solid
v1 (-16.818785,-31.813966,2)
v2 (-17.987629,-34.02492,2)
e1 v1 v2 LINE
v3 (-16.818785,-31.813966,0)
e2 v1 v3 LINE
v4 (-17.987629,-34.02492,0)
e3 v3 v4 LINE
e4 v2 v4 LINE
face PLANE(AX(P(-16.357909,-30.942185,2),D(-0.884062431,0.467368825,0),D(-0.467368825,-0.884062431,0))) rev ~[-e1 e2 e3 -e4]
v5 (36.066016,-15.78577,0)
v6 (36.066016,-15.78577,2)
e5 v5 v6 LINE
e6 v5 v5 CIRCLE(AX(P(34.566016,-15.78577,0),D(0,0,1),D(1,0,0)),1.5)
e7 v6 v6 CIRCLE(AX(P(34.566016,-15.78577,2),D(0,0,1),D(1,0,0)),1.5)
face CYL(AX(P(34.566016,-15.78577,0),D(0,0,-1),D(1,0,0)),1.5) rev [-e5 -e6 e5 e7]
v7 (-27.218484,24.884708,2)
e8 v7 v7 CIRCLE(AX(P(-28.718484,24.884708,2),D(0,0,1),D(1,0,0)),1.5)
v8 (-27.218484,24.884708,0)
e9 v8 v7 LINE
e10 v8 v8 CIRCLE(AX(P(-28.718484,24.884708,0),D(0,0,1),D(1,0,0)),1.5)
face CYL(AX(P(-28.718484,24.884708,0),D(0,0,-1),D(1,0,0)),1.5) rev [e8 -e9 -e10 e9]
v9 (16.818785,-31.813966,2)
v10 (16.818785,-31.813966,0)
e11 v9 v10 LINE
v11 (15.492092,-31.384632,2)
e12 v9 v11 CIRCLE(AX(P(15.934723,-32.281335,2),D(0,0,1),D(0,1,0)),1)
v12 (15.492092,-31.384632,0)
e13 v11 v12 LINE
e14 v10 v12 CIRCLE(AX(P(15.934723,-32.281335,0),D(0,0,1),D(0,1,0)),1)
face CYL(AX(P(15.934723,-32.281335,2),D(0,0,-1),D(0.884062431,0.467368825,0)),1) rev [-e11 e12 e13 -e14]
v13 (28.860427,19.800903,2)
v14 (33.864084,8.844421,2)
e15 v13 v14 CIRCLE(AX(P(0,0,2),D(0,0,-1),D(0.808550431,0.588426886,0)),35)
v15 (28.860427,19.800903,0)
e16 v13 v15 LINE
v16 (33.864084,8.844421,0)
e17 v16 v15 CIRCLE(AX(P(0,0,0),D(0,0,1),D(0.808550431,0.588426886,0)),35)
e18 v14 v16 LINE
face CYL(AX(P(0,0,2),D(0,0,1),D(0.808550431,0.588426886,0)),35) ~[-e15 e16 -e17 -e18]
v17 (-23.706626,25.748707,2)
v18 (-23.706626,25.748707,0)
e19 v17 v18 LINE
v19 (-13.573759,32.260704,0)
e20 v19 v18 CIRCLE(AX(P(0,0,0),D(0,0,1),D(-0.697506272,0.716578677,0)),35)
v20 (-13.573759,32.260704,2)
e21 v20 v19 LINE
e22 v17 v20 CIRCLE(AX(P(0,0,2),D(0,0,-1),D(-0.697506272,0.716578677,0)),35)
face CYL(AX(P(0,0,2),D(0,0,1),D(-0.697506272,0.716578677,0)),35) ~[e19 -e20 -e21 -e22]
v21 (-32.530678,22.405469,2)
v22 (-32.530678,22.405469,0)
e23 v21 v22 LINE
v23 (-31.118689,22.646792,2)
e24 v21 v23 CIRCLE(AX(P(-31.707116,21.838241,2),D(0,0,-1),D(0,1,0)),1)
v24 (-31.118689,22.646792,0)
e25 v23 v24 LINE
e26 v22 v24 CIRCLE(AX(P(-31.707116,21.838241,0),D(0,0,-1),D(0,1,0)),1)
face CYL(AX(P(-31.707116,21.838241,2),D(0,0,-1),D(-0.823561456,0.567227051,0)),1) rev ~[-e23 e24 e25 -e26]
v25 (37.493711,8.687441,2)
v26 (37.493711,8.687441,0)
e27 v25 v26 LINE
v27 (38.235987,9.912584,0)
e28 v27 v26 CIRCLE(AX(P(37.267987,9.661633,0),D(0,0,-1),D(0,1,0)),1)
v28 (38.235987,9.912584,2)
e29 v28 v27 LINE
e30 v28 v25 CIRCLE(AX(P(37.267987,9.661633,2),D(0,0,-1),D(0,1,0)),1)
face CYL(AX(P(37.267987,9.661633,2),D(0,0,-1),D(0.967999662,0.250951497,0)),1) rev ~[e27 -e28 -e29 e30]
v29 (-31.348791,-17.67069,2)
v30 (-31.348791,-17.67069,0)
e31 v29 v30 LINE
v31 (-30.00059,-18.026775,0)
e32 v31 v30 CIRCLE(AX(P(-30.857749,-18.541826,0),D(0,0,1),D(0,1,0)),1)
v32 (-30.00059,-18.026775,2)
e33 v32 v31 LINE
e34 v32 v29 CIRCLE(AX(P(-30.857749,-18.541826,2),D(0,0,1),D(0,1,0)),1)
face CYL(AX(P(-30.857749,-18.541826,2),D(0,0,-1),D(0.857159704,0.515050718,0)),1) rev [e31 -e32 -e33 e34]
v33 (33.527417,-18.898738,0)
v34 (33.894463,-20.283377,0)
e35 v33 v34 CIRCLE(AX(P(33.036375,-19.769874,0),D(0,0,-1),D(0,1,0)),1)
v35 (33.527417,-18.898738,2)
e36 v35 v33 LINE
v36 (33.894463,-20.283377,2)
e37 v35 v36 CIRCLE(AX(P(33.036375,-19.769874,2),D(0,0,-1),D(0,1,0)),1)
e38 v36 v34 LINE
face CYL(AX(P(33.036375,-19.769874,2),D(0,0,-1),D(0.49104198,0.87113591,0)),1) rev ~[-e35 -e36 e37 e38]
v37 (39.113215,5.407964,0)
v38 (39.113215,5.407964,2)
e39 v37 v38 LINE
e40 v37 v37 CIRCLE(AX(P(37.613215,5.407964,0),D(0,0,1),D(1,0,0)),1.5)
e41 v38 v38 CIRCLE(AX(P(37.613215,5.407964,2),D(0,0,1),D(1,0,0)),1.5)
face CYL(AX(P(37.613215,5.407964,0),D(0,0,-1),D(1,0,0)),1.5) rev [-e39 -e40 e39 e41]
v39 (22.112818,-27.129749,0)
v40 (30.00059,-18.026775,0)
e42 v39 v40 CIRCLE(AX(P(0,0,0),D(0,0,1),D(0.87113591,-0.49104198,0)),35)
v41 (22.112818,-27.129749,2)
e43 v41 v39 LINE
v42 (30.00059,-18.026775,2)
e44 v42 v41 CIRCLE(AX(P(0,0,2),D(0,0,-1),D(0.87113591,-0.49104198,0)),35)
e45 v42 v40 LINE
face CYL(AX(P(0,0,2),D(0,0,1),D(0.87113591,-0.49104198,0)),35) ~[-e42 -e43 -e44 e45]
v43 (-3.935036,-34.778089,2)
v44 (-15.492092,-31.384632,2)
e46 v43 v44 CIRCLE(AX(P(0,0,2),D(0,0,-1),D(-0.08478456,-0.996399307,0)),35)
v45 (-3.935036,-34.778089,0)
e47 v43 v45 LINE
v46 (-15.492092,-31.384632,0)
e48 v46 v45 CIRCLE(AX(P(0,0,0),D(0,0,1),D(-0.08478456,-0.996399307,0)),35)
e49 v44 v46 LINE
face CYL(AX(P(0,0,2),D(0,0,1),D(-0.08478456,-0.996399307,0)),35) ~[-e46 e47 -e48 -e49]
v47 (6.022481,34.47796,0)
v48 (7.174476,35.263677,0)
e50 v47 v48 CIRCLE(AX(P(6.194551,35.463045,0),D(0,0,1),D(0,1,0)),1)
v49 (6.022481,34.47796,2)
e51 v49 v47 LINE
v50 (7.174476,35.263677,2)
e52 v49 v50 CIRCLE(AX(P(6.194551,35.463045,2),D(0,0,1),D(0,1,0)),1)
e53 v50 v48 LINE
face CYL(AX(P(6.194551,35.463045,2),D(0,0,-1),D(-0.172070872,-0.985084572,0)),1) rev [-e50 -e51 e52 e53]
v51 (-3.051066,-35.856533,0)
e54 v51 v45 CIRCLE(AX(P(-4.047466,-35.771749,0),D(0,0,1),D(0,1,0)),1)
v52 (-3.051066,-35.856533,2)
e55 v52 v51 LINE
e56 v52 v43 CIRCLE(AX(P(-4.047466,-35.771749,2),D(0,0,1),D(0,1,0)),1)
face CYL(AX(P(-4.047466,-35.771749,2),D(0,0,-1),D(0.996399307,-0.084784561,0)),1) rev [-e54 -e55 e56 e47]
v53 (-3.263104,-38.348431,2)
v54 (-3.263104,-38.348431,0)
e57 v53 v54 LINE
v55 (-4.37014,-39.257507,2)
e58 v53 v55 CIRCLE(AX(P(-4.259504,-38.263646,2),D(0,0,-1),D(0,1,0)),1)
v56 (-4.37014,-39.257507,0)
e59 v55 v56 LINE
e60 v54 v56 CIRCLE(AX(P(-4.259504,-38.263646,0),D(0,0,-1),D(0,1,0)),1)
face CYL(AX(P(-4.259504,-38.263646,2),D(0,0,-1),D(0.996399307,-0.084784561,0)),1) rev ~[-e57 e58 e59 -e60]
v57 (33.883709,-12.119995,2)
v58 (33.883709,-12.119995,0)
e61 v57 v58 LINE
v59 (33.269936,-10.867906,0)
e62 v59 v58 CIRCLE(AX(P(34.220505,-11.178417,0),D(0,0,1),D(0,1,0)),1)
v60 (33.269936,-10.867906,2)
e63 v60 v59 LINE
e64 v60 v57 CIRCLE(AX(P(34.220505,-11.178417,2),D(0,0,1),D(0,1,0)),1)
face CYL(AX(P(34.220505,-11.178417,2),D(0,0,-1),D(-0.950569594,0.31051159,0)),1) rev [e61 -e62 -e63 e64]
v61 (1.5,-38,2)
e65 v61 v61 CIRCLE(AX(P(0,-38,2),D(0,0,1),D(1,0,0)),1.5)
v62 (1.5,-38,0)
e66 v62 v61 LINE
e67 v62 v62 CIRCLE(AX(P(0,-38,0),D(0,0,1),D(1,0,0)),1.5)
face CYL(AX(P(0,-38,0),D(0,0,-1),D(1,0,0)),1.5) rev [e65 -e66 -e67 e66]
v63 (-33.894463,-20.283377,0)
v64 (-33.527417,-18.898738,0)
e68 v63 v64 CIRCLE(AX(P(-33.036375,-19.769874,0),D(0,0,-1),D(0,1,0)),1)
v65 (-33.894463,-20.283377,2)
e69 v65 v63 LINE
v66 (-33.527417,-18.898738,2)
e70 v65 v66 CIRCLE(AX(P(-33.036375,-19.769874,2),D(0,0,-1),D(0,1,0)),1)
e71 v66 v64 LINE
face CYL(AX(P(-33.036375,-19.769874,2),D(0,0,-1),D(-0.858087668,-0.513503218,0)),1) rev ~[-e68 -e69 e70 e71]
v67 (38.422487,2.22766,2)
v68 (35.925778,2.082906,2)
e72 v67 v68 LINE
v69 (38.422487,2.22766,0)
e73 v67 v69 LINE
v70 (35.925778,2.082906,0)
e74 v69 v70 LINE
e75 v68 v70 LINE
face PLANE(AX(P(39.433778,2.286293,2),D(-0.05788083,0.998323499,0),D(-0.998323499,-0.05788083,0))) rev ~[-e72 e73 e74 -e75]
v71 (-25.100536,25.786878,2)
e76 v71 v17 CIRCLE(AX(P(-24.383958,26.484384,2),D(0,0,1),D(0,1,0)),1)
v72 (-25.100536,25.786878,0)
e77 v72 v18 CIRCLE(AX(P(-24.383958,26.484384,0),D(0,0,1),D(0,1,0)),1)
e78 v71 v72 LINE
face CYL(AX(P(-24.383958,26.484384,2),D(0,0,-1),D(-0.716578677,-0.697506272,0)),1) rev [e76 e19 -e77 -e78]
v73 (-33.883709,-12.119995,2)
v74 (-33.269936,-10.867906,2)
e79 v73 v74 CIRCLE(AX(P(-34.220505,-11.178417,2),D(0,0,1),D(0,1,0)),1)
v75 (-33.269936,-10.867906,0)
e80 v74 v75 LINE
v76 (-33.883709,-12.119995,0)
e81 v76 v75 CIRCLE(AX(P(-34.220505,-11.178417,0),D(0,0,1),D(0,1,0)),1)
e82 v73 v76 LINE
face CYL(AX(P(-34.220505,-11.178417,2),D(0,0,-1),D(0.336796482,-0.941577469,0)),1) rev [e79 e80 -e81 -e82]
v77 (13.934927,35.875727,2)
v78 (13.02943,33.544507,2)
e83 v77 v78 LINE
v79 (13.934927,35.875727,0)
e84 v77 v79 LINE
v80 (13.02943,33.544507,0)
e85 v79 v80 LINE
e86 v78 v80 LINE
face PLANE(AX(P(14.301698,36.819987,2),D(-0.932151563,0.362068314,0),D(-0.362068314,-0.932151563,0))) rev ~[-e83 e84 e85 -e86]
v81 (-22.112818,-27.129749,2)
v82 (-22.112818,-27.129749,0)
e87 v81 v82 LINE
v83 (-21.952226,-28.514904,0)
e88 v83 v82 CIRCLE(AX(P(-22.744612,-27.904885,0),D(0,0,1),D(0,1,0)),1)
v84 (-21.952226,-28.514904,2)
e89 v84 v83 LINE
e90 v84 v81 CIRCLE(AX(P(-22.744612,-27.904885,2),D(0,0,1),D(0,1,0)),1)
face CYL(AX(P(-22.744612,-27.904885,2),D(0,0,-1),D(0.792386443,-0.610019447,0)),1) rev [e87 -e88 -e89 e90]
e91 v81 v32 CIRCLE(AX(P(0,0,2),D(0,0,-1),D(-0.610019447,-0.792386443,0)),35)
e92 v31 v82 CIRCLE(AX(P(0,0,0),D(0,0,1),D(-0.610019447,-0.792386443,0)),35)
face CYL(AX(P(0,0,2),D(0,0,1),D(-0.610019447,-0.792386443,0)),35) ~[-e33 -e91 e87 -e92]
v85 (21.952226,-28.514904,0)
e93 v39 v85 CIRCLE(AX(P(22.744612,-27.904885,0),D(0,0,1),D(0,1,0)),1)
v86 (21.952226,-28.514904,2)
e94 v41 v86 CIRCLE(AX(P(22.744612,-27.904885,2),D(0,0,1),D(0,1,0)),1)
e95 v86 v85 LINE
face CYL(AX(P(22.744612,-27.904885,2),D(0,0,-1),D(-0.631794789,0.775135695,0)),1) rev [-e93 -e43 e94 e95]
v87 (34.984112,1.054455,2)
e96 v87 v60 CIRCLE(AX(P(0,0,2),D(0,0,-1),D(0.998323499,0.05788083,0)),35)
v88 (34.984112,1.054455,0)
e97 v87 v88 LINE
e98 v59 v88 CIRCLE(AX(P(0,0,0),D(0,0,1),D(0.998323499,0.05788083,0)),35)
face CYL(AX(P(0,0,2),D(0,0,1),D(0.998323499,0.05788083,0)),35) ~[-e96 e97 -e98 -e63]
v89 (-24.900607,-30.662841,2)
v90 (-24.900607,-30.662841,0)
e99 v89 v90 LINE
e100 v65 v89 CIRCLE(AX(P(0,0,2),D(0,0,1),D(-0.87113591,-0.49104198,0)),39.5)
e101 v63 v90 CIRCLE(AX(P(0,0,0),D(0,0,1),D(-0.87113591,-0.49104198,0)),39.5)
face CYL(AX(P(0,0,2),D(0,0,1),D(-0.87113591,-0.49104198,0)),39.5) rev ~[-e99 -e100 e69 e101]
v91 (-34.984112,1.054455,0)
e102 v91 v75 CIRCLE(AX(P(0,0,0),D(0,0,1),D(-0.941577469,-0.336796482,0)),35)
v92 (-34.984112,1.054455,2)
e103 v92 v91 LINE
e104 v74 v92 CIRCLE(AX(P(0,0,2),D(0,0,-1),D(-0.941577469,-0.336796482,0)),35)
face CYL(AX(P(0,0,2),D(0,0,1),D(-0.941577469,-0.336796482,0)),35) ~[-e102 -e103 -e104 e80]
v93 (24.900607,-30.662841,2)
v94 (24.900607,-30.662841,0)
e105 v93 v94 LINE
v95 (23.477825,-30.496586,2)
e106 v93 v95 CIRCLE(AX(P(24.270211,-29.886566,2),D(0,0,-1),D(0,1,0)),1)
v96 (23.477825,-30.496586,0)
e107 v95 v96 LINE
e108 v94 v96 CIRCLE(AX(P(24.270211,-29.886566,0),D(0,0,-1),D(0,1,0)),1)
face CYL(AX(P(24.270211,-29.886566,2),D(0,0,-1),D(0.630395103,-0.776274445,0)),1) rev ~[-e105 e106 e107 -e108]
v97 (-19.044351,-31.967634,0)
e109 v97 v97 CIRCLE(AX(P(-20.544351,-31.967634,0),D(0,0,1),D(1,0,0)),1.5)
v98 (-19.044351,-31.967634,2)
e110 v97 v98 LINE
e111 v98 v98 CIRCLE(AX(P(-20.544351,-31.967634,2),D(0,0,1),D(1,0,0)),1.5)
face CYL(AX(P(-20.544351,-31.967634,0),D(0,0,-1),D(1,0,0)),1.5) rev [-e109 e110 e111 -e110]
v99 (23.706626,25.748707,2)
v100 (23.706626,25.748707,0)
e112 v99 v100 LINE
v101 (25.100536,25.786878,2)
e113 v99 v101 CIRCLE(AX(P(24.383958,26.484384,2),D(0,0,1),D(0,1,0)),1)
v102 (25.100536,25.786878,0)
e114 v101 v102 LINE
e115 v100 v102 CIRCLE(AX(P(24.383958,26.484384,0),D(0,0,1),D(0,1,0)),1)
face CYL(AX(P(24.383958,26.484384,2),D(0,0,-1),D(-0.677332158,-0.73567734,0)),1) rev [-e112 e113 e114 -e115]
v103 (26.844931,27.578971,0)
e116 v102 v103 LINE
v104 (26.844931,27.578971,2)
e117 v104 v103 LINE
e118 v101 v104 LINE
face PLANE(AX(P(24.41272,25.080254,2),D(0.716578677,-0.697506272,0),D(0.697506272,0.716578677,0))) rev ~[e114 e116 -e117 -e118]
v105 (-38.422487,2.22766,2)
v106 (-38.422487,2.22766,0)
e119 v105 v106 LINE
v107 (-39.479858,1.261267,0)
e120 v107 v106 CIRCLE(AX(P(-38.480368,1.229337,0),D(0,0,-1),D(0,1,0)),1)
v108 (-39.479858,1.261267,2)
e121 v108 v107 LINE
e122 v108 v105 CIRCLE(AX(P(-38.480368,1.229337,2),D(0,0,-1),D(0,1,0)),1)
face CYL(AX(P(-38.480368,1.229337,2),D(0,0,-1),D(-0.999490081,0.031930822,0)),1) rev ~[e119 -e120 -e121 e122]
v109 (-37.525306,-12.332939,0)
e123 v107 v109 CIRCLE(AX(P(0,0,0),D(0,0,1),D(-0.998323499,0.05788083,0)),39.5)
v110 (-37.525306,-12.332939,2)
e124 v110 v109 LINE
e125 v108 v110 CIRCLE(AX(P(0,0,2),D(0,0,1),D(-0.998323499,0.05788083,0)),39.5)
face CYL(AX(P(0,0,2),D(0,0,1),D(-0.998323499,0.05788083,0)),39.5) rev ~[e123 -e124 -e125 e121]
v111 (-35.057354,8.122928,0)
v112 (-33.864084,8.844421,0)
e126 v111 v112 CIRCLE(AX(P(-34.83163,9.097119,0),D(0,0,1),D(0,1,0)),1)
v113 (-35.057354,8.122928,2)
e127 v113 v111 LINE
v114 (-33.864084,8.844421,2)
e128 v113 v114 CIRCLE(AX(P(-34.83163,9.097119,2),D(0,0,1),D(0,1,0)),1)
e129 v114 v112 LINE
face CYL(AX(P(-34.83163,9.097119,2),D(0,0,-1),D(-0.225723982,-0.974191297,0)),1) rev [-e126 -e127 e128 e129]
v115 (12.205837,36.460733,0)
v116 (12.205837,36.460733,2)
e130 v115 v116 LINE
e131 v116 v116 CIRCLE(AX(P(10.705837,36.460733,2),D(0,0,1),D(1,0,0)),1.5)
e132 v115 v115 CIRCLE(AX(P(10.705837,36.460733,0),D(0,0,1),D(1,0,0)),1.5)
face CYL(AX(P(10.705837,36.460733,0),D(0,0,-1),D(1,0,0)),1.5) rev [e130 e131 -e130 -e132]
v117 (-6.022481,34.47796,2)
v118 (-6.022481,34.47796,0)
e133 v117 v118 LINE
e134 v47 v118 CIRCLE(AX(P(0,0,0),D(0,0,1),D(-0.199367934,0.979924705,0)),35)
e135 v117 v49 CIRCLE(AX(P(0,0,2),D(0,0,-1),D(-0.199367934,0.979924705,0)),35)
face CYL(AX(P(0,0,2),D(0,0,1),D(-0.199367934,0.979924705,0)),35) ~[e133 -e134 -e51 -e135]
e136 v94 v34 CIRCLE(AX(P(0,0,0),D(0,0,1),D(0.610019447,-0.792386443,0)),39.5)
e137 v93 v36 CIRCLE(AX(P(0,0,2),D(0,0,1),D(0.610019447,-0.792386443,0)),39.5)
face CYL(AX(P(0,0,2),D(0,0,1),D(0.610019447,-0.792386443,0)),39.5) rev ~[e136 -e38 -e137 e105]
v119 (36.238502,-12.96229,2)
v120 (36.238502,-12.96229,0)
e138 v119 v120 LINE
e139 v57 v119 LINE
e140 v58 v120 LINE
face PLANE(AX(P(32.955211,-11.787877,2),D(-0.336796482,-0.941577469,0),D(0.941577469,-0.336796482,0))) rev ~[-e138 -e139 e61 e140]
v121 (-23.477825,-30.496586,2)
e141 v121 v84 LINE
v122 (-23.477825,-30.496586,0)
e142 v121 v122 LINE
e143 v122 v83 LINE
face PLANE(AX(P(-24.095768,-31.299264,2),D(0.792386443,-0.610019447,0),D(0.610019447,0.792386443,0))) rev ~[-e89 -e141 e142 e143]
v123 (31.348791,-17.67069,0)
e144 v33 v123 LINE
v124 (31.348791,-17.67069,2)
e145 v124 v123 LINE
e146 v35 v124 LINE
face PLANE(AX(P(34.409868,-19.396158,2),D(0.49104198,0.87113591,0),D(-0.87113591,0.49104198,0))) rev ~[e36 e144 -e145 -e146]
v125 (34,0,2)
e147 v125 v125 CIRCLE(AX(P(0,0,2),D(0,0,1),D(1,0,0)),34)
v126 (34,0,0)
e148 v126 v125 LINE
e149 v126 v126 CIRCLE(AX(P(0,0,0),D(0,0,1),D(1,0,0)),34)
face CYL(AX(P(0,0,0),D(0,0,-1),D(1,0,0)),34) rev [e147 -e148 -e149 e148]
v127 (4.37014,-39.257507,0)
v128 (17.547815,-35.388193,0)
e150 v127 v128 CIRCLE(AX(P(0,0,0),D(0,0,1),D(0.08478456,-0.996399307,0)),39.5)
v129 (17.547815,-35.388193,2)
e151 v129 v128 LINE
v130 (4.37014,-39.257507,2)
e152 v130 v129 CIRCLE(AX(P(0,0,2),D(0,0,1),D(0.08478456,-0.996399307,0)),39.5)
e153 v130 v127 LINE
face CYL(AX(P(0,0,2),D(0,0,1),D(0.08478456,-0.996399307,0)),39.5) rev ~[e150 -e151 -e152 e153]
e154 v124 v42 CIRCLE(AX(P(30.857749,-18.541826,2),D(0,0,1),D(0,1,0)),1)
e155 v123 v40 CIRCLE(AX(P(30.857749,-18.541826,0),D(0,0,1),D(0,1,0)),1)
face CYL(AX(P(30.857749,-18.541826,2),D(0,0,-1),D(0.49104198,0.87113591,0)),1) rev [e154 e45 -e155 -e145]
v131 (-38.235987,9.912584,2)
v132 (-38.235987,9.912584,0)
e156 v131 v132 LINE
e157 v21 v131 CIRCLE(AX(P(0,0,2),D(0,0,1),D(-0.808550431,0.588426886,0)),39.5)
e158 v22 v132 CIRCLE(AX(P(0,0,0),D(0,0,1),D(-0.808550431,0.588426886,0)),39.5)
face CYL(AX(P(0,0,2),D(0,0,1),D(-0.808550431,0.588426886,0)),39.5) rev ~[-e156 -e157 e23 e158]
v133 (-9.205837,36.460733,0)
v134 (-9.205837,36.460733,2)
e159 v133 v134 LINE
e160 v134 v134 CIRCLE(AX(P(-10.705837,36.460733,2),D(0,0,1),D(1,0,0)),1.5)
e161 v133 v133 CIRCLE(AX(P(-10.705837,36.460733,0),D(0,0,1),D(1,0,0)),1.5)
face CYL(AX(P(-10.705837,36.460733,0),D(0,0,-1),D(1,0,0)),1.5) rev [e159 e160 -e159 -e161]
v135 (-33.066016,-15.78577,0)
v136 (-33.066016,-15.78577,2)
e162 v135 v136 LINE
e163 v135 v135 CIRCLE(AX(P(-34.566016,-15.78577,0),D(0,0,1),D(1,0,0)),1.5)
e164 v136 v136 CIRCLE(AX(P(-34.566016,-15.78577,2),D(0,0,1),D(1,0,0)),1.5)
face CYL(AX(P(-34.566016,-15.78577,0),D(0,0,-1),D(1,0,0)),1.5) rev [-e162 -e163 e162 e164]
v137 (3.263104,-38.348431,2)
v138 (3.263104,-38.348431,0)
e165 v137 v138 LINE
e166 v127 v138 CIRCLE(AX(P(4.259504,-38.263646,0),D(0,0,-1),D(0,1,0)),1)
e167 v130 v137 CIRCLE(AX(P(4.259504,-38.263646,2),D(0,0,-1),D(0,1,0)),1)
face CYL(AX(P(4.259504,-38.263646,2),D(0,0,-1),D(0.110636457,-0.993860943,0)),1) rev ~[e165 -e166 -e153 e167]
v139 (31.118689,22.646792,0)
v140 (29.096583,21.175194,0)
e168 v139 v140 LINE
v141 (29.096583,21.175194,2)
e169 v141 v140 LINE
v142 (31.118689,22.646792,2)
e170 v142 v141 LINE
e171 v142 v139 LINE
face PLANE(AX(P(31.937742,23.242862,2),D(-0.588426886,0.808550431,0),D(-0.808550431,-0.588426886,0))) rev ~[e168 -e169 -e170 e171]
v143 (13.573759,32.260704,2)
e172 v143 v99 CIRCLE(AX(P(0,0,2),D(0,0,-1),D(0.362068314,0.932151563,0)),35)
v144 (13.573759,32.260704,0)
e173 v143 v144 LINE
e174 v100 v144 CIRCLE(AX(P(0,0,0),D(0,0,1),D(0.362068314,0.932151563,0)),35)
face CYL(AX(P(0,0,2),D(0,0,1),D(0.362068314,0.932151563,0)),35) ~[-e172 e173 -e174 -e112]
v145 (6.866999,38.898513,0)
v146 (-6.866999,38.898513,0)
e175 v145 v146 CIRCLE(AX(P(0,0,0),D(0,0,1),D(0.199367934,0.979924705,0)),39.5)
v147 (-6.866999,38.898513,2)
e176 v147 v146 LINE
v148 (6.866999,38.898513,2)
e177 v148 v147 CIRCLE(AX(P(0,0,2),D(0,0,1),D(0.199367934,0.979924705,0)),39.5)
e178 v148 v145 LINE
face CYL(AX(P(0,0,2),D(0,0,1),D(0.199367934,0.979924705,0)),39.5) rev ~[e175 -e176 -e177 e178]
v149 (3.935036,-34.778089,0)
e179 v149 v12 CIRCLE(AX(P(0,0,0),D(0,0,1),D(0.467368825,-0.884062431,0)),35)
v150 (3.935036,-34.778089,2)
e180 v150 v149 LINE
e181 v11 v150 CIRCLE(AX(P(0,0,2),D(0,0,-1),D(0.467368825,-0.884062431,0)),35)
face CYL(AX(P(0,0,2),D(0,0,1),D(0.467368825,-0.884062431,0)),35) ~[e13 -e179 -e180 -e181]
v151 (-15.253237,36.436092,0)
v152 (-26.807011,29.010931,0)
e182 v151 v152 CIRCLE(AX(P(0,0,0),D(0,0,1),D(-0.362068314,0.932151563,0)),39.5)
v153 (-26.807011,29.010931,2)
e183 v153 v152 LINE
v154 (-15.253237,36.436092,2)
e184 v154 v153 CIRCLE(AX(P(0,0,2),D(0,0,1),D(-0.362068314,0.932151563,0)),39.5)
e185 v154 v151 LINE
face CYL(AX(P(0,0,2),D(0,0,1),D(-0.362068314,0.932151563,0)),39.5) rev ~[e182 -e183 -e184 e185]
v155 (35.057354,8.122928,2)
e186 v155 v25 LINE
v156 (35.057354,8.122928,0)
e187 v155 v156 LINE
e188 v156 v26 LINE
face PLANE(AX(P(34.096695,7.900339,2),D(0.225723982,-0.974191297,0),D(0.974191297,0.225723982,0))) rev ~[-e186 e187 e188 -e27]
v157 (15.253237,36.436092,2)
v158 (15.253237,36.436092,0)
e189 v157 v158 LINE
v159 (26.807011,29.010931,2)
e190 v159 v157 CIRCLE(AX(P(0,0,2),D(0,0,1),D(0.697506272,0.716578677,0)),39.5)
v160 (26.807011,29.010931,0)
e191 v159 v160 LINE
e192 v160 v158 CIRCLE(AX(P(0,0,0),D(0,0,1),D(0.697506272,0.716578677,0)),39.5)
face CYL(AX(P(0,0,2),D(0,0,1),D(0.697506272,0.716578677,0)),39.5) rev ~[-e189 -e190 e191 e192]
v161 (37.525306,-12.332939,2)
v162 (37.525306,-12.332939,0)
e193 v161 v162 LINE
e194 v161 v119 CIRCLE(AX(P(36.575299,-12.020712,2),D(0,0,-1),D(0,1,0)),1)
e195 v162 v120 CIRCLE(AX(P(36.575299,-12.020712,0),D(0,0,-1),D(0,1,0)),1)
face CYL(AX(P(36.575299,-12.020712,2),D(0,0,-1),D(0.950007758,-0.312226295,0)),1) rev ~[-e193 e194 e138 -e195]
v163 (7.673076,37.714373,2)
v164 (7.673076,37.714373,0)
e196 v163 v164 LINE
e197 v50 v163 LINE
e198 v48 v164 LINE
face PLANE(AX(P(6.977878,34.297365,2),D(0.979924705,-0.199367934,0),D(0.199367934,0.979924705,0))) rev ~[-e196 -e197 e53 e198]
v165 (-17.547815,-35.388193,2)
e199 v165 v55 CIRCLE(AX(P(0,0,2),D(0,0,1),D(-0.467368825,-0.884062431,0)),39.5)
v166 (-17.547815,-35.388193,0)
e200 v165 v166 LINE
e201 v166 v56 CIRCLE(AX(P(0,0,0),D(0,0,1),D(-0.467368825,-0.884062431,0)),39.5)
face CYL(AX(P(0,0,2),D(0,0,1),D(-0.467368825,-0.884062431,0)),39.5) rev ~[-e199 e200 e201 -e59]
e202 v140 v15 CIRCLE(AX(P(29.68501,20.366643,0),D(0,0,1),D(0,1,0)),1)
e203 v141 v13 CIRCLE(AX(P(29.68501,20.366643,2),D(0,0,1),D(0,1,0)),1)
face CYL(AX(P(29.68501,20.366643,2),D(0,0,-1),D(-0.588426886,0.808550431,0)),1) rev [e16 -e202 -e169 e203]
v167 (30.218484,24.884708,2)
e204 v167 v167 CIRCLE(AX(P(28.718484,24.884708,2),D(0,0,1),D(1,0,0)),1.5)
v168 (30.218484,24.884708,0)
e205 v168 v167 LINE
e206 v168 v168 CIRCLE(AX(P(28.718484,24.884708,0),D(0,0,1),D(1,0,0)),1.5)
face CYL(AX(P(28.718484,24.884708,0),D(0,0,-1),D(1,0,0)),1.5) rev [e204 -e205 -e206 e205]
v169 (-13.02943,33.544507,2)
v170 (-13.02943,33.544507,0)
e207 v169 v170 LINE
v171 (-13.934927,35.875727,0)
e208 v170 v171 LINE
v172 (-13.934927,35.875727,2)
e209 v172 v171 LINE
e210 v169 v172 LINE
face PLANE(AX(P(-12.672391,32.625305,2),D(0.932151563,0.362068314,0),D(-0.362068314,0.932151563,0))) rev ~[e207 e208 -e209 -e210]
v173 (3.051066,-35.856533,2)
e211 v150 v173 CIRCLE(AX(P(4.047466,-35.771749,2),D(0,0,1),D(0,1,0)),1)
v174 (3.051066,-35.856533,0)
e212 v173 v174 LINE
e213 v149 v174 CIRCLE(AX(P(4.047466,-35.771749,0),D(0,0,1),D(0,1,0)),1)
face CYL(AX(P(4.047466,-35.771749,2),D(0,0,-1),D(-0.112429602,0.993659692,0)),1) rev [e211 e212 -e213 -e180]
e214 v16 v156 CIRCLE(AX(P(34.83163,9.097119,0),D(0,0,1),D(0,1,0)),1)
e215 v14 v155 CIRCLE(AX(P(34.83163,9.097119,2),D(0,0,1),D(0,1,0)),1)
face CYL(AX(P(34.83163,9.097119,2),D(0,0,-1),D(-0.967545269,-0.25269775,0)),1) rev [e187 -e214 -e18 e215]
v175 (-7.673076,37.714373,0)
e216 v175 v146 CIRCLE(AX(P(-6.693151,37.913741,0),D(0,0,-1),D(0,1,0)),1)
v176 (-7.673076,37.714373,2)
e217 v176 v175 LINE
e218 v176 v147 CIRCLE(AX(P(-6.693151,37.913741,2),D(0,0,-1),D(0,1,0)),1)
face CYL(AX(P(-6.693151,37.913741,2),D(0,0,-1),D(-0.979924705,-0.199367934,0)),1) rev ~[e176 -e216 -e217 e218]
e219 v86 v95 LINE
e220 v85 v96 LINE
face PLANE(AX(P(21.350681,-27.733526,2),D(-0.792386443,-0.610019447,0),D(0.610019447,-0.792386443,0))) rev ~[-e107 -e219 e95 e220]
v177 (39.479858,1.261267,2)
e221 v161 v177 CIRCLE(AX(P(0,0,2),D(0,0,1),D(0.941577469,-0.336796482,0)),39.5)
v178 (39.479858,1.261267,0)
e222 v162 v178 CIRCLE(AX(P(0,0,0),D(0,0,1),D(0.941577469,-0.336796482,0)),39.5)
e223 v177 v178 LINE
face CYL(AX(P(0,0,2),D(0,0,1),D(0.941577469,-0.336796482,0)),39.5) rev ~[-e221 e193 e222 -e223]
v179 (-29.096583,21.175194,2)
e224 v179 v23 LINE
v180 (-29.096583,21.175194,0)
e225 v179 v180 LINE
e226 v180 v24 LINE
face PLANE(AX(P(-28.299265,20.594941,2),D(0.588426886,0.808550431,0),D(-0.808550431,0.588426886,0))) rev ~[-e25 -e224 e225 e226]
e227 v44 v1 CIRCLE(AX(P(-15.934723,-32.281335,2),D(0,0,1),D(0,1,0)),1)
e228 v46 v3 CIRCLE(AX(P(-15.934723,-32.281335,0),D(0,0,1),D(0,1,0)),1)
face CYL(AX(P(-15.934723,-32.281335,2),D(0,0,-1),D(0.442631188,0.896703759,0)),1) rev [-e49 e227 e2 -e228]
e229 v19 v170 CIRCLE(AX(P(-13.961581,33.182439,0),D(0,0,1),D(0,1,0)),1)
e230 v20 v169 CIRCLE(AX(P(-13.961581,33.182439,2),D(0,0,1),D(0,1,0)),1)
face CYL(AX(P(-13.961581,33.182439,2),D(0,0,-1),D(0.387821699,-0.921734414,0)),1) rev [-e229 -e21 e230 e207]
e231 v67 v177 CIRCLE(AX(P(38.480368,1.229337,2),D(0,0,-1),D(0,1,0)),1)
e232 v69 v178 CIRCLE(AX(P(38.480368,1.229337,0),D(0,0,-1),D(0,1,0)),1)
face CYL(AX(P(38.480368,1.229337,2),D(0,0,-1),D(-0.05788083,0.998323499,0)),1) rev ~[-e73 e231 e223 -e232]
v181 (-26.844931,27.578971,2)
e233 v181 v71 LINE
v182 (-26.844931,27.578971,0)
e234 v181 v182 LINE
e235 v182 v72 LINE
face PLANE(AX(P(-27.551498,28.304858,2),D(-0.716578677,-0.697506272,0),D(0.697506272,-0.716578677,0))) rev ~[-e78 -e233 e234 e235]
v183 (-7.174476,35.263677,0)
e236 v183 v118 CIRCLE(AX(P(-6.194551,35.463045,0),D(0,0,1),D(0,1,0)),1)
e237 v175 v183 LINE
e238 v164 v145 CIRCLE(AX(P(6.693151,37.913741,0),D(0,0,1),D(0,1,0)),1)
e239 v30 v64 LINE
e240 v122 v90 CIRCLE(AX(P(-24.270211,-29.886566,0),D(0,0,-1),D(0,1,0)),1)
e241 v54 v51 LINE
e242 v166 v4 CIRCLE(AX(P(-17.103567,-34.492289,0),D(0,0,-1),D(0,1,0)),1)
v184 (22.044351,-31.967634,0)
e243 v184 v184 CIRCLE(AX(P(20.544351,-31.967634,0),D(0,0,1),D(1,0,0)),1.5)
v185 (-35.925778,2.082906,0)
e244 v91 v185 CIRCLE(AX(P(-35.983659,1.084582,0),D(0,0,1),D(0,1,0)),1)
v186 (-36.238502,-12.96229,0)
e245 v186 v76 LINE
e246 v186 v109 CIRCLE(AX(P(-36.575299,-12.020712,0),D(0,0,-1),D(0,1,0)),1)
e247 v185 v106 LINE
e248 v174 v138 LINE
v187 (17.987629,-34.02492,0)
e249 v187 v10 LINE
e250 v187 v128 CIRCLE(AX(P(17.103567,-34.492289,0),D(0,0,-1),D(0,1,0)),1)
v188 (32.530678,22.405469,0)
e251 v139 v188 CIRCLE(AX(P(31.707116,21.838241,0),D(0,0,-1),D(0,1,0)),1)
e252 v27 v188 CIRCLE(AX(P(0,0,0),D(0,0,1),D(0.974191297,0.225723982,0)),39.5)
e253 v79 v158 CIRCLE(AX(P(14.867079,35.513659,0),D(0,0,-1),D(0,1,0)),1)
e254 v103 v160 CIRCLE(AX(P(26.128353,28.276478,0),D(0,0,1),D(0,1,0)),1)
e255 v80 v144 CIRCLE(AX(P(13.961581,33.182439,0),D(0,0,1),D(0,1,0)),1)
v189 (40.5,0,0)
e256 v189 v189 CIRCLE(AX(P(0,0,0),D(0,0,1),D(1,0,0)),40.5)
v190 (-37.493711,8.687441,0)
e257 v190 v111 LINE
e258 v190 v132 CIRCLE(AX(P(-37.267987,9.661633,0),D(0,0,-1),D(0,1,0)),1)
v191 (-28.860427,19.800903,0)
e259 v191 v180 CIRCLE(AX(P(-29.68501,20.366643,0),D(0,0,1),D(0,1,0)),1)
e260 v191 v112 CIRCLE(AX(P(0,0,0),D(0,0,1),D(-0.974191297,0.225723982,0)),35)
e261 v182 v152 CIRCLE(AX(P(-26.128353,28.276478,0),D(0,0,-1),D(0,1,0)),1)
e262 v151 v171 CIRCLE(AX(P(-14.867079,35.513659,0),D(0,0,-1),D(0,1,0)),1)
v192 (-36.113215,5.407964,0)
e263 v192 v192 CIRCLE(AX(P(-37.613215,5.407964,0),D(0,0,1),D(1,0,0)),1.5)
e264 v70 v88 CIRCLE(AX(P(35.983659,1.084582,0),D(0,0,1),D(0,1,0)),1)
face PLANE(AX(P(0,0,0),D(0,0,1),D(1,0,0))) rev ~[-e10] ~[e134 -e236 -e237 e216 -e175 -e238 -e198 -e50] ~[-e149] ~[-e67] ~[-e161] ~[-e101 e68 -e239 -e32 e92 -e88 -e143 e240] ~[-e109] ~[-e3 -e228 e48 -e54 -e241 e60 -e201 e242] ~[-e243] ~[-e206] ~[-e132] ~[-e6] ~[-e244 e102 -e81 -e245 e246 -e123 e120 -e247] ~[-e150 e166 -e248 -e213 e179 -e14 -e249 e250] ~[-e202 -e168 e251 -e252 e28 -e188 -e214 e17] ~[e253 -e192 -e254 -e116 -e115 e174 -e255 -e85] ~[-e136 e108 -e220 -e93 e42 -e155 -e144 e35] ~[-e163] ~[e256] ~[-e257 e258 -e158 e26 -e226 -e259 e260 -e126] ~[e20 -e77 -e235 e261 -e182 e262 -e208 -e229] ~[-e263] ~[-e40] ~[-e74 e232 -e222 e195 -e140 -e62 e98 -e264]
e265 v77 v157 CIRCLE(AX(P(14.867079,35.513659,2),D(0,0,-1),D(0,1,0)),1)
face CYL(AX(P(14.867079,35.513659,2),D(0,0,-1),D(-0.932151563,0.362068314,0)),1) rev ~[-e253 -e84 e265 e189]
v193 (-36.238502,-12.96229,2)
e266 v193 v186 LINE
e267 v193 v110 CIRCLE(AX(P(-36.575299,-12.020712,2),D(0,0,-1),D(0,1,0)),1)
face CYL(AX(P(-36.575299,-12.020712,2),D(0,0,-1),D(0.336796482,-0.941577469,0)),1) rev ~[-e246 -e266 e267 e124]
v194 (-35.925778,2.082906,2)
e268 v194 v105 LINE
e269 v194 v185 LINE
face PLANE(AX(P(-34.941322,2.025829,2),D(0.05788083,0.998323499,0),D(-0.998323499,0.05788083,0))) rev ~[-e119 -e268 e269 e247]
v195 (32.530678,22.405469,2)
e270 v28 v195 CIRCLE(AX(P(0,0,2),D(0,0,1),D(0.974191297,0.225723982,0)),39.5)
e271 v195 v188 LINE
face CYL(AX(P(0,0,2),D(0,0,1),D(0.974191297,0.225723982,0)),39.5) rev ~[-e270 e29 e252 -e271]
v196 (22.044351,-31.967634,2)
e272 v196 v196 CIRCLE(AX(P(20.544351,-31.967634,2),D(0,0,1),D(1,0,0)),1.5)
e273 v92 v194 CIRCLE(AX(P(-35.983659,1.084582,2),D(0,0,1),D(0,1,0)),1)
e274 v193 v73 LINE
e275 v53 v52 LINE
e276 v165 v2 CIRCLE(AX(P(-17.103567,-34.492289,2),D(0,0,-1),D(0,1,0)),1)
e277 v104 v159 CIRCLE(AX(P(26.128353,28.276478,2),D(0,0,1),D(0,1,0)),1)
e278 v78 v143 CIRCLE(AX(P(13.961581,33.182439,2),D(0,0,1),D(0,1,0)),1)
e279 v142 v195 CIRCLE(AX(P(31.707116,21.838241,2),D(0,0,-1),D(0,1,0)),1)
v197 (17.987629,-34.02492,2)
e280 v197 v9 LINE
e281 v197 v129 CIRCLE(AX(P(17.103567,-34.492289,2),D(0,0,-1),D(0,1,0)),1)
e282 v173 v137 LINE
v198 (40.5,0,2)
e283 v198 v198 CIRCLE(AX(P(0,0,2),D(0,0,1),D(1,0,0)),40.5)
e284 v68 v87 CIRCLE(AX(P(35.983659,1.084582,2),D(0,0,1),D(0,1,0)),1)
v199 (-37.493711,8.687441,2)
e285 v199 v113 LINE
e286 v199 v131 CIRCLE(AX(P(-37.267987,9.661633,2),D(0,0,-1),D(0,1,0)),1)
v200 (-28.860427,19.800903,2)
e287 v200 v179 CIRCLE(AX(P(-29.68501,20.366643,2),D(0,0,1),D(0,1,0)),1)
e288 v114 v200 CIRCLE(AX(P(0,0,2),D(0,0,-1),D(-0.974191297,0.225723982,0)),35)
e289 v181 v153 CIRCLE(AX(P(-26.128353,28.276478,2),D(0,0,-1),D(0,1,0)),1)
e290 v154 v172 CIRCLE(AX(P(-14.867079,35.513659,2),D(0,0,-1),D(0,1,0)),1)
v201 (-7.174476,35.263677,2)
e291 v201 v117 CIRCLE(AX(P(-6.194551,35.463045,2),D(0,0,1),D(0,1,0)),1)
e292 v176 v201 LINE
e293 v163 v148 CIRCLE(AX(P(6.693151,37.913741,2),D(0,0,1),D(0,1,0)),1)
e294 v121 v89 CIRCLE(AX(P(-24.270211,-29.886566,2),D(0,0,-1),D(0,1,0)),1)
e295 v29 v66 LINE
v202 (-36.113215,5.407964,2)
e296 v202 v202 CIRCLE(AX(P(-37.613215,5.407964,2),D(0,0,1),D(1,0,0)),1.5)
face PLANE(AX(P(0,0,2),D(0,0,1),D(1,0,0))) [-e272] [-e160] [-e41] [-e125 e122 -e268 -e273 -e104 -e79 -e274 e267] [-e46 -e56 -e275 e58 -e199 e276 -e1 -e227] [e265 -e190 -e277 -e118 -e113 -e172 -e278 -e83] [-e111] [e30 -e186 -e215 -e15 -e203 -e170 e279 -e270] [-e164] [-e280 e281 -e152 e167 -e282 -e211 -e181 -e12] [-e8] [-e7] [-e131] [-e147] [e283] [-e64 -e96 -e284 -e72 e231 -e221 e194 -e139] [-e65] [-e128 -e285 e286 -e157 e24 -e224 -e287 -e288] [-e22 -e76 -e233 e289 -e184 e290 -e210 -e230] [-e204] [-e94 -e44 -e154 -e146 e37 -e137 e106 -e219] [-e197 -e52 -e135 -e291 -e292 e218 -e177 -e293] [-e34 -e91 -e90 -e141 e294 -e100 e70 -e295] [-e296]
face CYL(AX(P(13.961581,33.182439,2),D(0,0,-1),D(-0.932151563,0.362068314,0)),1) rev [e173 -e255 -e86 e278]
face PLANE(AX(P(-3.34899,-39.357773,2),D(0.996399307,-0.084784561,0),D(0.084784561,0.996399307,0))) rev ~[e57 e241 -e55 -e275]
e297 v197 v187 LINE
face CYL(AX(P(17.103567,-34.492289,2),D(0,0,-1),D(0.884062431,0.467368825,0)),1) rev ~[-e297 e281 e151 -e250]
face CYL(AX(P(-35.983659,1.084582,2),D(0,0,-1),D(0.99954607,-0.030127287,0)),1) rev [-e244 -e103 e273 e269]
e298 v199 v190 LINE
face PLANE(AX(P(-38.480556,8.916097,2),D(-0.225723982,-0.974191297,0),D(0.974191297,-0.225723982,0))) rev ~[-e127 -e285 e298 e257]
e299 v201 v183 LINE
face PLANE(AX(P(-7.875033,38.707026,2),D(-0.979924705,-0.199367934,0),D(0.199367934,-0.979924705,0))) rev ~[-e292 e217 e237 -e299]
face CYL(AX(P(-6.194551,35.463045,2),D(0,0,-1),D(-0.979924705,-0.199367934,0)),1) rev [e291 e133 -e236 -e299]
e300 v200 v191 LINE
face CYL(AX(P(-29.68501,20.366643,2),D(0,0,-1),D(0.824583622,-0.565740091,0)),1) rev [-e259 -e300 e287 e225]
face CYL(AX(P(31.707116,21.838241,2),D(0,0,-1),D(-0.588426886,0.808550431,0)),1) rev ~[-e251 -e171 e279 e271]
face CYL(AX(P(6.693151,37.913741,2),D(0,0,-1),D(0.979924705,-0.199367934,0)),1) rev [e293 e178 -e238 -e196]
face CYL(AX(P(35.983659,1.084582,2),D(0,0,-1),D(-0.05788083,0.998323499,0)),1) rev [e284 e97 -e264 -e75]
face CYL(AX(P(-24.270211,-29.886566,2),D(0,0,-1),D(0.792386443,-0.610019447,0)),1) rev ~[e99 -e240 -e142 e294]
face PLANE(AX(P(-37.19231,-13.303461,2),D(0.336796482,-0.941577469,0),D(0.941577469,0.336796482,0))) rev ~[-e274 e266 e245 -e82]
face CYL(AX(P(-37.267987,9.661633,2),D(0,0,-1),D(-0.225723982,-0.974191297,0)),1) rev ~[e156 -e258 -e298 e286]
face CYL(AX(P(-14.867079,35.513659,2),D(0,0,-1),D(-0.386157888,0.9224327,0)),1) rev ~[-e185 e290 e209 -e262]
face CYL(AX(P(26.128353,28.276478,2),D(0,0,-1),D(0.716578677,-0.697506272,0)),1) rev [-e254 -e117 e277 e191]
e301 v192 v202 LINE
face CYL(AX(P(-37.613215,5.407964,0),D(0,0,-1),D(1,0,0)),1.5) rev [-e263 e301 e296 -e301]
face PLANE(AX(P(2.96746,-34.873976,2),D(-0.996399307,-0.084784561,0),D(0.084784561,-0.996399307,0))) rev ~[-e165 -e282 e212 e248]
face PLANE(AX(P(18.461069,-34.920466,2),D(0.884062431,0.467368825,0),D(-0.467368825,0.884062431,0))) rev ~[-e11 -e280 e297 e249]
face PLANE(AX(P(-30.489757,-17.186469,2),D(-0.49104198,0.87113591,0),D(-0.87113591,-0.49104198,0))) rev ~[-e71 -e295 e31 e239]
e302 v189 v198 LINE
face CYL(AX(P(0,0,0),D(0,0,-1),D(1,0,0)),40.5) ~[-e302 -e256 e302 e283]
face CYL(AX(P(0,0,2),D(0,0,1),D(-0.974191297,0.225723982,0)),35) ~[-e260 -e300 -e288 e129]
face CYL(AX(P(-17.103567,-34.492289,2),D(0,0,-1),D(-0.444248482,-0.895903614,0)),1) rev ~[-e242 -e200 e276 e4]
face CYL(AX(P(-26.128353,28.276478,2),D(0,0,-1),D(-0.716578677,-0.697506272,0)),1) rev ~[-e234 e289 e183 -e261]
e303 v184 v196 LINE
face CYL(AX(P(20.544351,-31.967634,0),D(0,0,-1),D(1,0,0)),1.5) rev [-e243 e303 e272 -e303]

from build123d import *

# Parameters (mm, degrees)
SKETCH_1_R                       = 40.5
SKETCH_1_R_2                     = 34
SKETCH_1_R_3                     = 1.5
EXTRUDE_1_DEPTH                  = 2
CUT_EXTRUDE_1_DEPTH              = 58.310557492
FILLET_1_R                       = 1
PATTERN_CIRCULAR_1_COUNT         = 11
FILLET_1_OF_PATTERN_CIRCULAR_1_R = 1


with BuildPart() as part:
    # 草图1 → 凸台-拉伸1 (new body)
    with BuildSketch(Plane.XY):
        Circle(SKETCH_1_R)
        Circle(SKETCH_1_R_2, mode=Mode.SUBTRACT)
        with Locations((0, -38)):
            Circle(SKETCH_1_R_3, mode=Mode.SUBTRACT)
        with Locations((-20.544351063, -31.967634248)):
            Circle(SKETCH_1_R_3, mode=Mode.SUBTRACT)
        with Locations((-34.566015823, -15.785770494)):
            Circle(SKETCH_1_R_3, mode=Mode.SUBTRACT)
        with Locations((-37.613214791, 5.407963854)):
            Circle(SKETCH_1_R_3, mode=Mode.SUBTRACT)
        with Locations((-28.718483825, 24.88470789)):
            Circle(SKETCH_1_R_3, mode=Mode.SUBTRACT)
        with Locations((-10.70583716, 36.460732997)):
            Circle(SKETCH_1_R_3, mode=Mode.SUBTRACT)
        with Locations((10.70583716, 36.460732997)):
            Circle(SKETCH_1_R_3, mode=Mode.SUBTRACT)
        with Locations((28.718483825, 24.88470789)):
            Circle(SKETCH_1_R_3, mode=Mode.SUBTRACT)
        with Locations((37.613214791, 5.407963854)):
            Circle(SKETCH_1_R_3, mode=Mode.SUBTRACT)
        with Locations((34.566015823, -15.785770494)):
            Circle(SKETCH_1_R_3, mode=Mode.SUBTRACT)
        with Locations((20.544351063, -31.967634248)):
            Circle(SKETCH_1_R_3, mode=Mode.SUBTRACT)
    extrude(amount=EXTRUDE_1_DEPTH)

    # 草图2 → 切除-拉伸1 (cut, through all)
    with BuildSketch(Plane.XY.offset(2)):
        with BuildLine():
            Line((-7.875033409, 38.707025833), (-6.977877705, 34.297364662))
            ThreePointArc((-6.977877705, 34.297364662), (0, 35), (6.977877705, 34.297364662))
            Line((6.977877705, 34.297364662), (7.875033409, 38.707025833))
            ThreePointArc((7.875033409, 38.707025833), (0, 39.5), (-7.875033409, 38.707025833))
        make_face()
    cut_extrude_1 = extrude(amount=-CUT_EXTRUDE_1_DEPTH, mode=Mode.SUBTRACT)

    # 圆角1
    fillet_1_edges = [part.edges().sort_by_distance(p)[0] for p in [
        (7.875033409, 38.707025833, 1),
        (6.977877705, 34.297364662, 1),
        (-6.977877705, 34.297364662, 1),
        (-7.875033409, 38.707025833, 1),
    ]]
    fillet(fillet_1_edges, radius=FILLET_1_R)

    # 阵列(圆周)1: 切除-拉伸1 ×11 about axis
    pattern_circular_1_axis = Axis((0, 0, 2), (0, 0, -1))
    for i in range(1, PATTERN_CIRCULAR_1_COUNT):
        add(cut_extrude_1.rotate(pattern_circular_1_axis, i * 360 / PATTERN_CIRCULAR_1_COUNT), mode=Mode.SUBTRACT)

    # 圆角1 of 阵列(圆周)1
    fillet_1_of_pattern_circular_1_edges = [part.edges().sort_by_distance(p)[0] for p in [
        (27.551497764, 28.304857727, 1),
        (24.412719538, 25.080253682, 1),
        (12.672390997, 32.625304695, 1),
        (14.30169841, 36.819986727, 1),
        (38.480556248, 8.916097286, 1),
        (34.09669541, 7.900339367, 1),
        (28.299265095, 20.594941007, 1),
        (31.937742036, 23.242861993, 1),
        (37.192310014, -13.303461046, 1),
        (32.955211405, -11.787876876, 1),
        (34.941322479, 2.025829066, 1),
        (39.433778227, 2.286292803, 1),
        (24.095768139, -31.299264493, 1),
        (21.35068063, -27.7335255, 1),
        (30.48975686, -17.18646929, 1),
        (34.409868456, -19.396158198, 1),
        (3.348990132, -39.357772613, 1),
        (2.967459611, -34.873975733, 1),
        (16.357908867, -30.942185079, 1),
        (18.461068579, -34.920466018, 1),
        (-18.461068579, -34.920466018, 1),
        (-16.357908867, -30.942185079, 1),
        (-2.967459611, -34.873975733, 1),
        (-3.348990132, -39.357772613, 1),
        (-34.409868456, -19.396158198, 1),
        (-30.48975686, -17.18646929, 1),
        (-21.35068063, -27.7335255, 1),
        (-24.095768139, -31.299264493, 1),
        (-39.433778227, 2.286292803, 1),
        (-34.941322479, 2.025829066, 1),
        (-32.955211405, -11.787876876, 1),
        (-37.192310014, -13.303461046, 1),
        (-31.937742036, 23.242861993, 1),
        (-28.299265095, 20.594941007, 1),
        (-34.09669541, 7.900339367, 1),
        (-38.480556248, 8.916097286, 1),
        (-14.30169841, 36.819986727, 1),
        (-12.672390997, 32.625304695, 1),
        (-24.412719538, 25.080253682, 1),
        (-27.551497764, 28.304857727, 1),
    ]]
    fillet(fillet_1_of_pattern_circular_1_edges, radius=FILLET_1_OF_PATTERN_CIRCULAR_1_R)


solid = part.part
